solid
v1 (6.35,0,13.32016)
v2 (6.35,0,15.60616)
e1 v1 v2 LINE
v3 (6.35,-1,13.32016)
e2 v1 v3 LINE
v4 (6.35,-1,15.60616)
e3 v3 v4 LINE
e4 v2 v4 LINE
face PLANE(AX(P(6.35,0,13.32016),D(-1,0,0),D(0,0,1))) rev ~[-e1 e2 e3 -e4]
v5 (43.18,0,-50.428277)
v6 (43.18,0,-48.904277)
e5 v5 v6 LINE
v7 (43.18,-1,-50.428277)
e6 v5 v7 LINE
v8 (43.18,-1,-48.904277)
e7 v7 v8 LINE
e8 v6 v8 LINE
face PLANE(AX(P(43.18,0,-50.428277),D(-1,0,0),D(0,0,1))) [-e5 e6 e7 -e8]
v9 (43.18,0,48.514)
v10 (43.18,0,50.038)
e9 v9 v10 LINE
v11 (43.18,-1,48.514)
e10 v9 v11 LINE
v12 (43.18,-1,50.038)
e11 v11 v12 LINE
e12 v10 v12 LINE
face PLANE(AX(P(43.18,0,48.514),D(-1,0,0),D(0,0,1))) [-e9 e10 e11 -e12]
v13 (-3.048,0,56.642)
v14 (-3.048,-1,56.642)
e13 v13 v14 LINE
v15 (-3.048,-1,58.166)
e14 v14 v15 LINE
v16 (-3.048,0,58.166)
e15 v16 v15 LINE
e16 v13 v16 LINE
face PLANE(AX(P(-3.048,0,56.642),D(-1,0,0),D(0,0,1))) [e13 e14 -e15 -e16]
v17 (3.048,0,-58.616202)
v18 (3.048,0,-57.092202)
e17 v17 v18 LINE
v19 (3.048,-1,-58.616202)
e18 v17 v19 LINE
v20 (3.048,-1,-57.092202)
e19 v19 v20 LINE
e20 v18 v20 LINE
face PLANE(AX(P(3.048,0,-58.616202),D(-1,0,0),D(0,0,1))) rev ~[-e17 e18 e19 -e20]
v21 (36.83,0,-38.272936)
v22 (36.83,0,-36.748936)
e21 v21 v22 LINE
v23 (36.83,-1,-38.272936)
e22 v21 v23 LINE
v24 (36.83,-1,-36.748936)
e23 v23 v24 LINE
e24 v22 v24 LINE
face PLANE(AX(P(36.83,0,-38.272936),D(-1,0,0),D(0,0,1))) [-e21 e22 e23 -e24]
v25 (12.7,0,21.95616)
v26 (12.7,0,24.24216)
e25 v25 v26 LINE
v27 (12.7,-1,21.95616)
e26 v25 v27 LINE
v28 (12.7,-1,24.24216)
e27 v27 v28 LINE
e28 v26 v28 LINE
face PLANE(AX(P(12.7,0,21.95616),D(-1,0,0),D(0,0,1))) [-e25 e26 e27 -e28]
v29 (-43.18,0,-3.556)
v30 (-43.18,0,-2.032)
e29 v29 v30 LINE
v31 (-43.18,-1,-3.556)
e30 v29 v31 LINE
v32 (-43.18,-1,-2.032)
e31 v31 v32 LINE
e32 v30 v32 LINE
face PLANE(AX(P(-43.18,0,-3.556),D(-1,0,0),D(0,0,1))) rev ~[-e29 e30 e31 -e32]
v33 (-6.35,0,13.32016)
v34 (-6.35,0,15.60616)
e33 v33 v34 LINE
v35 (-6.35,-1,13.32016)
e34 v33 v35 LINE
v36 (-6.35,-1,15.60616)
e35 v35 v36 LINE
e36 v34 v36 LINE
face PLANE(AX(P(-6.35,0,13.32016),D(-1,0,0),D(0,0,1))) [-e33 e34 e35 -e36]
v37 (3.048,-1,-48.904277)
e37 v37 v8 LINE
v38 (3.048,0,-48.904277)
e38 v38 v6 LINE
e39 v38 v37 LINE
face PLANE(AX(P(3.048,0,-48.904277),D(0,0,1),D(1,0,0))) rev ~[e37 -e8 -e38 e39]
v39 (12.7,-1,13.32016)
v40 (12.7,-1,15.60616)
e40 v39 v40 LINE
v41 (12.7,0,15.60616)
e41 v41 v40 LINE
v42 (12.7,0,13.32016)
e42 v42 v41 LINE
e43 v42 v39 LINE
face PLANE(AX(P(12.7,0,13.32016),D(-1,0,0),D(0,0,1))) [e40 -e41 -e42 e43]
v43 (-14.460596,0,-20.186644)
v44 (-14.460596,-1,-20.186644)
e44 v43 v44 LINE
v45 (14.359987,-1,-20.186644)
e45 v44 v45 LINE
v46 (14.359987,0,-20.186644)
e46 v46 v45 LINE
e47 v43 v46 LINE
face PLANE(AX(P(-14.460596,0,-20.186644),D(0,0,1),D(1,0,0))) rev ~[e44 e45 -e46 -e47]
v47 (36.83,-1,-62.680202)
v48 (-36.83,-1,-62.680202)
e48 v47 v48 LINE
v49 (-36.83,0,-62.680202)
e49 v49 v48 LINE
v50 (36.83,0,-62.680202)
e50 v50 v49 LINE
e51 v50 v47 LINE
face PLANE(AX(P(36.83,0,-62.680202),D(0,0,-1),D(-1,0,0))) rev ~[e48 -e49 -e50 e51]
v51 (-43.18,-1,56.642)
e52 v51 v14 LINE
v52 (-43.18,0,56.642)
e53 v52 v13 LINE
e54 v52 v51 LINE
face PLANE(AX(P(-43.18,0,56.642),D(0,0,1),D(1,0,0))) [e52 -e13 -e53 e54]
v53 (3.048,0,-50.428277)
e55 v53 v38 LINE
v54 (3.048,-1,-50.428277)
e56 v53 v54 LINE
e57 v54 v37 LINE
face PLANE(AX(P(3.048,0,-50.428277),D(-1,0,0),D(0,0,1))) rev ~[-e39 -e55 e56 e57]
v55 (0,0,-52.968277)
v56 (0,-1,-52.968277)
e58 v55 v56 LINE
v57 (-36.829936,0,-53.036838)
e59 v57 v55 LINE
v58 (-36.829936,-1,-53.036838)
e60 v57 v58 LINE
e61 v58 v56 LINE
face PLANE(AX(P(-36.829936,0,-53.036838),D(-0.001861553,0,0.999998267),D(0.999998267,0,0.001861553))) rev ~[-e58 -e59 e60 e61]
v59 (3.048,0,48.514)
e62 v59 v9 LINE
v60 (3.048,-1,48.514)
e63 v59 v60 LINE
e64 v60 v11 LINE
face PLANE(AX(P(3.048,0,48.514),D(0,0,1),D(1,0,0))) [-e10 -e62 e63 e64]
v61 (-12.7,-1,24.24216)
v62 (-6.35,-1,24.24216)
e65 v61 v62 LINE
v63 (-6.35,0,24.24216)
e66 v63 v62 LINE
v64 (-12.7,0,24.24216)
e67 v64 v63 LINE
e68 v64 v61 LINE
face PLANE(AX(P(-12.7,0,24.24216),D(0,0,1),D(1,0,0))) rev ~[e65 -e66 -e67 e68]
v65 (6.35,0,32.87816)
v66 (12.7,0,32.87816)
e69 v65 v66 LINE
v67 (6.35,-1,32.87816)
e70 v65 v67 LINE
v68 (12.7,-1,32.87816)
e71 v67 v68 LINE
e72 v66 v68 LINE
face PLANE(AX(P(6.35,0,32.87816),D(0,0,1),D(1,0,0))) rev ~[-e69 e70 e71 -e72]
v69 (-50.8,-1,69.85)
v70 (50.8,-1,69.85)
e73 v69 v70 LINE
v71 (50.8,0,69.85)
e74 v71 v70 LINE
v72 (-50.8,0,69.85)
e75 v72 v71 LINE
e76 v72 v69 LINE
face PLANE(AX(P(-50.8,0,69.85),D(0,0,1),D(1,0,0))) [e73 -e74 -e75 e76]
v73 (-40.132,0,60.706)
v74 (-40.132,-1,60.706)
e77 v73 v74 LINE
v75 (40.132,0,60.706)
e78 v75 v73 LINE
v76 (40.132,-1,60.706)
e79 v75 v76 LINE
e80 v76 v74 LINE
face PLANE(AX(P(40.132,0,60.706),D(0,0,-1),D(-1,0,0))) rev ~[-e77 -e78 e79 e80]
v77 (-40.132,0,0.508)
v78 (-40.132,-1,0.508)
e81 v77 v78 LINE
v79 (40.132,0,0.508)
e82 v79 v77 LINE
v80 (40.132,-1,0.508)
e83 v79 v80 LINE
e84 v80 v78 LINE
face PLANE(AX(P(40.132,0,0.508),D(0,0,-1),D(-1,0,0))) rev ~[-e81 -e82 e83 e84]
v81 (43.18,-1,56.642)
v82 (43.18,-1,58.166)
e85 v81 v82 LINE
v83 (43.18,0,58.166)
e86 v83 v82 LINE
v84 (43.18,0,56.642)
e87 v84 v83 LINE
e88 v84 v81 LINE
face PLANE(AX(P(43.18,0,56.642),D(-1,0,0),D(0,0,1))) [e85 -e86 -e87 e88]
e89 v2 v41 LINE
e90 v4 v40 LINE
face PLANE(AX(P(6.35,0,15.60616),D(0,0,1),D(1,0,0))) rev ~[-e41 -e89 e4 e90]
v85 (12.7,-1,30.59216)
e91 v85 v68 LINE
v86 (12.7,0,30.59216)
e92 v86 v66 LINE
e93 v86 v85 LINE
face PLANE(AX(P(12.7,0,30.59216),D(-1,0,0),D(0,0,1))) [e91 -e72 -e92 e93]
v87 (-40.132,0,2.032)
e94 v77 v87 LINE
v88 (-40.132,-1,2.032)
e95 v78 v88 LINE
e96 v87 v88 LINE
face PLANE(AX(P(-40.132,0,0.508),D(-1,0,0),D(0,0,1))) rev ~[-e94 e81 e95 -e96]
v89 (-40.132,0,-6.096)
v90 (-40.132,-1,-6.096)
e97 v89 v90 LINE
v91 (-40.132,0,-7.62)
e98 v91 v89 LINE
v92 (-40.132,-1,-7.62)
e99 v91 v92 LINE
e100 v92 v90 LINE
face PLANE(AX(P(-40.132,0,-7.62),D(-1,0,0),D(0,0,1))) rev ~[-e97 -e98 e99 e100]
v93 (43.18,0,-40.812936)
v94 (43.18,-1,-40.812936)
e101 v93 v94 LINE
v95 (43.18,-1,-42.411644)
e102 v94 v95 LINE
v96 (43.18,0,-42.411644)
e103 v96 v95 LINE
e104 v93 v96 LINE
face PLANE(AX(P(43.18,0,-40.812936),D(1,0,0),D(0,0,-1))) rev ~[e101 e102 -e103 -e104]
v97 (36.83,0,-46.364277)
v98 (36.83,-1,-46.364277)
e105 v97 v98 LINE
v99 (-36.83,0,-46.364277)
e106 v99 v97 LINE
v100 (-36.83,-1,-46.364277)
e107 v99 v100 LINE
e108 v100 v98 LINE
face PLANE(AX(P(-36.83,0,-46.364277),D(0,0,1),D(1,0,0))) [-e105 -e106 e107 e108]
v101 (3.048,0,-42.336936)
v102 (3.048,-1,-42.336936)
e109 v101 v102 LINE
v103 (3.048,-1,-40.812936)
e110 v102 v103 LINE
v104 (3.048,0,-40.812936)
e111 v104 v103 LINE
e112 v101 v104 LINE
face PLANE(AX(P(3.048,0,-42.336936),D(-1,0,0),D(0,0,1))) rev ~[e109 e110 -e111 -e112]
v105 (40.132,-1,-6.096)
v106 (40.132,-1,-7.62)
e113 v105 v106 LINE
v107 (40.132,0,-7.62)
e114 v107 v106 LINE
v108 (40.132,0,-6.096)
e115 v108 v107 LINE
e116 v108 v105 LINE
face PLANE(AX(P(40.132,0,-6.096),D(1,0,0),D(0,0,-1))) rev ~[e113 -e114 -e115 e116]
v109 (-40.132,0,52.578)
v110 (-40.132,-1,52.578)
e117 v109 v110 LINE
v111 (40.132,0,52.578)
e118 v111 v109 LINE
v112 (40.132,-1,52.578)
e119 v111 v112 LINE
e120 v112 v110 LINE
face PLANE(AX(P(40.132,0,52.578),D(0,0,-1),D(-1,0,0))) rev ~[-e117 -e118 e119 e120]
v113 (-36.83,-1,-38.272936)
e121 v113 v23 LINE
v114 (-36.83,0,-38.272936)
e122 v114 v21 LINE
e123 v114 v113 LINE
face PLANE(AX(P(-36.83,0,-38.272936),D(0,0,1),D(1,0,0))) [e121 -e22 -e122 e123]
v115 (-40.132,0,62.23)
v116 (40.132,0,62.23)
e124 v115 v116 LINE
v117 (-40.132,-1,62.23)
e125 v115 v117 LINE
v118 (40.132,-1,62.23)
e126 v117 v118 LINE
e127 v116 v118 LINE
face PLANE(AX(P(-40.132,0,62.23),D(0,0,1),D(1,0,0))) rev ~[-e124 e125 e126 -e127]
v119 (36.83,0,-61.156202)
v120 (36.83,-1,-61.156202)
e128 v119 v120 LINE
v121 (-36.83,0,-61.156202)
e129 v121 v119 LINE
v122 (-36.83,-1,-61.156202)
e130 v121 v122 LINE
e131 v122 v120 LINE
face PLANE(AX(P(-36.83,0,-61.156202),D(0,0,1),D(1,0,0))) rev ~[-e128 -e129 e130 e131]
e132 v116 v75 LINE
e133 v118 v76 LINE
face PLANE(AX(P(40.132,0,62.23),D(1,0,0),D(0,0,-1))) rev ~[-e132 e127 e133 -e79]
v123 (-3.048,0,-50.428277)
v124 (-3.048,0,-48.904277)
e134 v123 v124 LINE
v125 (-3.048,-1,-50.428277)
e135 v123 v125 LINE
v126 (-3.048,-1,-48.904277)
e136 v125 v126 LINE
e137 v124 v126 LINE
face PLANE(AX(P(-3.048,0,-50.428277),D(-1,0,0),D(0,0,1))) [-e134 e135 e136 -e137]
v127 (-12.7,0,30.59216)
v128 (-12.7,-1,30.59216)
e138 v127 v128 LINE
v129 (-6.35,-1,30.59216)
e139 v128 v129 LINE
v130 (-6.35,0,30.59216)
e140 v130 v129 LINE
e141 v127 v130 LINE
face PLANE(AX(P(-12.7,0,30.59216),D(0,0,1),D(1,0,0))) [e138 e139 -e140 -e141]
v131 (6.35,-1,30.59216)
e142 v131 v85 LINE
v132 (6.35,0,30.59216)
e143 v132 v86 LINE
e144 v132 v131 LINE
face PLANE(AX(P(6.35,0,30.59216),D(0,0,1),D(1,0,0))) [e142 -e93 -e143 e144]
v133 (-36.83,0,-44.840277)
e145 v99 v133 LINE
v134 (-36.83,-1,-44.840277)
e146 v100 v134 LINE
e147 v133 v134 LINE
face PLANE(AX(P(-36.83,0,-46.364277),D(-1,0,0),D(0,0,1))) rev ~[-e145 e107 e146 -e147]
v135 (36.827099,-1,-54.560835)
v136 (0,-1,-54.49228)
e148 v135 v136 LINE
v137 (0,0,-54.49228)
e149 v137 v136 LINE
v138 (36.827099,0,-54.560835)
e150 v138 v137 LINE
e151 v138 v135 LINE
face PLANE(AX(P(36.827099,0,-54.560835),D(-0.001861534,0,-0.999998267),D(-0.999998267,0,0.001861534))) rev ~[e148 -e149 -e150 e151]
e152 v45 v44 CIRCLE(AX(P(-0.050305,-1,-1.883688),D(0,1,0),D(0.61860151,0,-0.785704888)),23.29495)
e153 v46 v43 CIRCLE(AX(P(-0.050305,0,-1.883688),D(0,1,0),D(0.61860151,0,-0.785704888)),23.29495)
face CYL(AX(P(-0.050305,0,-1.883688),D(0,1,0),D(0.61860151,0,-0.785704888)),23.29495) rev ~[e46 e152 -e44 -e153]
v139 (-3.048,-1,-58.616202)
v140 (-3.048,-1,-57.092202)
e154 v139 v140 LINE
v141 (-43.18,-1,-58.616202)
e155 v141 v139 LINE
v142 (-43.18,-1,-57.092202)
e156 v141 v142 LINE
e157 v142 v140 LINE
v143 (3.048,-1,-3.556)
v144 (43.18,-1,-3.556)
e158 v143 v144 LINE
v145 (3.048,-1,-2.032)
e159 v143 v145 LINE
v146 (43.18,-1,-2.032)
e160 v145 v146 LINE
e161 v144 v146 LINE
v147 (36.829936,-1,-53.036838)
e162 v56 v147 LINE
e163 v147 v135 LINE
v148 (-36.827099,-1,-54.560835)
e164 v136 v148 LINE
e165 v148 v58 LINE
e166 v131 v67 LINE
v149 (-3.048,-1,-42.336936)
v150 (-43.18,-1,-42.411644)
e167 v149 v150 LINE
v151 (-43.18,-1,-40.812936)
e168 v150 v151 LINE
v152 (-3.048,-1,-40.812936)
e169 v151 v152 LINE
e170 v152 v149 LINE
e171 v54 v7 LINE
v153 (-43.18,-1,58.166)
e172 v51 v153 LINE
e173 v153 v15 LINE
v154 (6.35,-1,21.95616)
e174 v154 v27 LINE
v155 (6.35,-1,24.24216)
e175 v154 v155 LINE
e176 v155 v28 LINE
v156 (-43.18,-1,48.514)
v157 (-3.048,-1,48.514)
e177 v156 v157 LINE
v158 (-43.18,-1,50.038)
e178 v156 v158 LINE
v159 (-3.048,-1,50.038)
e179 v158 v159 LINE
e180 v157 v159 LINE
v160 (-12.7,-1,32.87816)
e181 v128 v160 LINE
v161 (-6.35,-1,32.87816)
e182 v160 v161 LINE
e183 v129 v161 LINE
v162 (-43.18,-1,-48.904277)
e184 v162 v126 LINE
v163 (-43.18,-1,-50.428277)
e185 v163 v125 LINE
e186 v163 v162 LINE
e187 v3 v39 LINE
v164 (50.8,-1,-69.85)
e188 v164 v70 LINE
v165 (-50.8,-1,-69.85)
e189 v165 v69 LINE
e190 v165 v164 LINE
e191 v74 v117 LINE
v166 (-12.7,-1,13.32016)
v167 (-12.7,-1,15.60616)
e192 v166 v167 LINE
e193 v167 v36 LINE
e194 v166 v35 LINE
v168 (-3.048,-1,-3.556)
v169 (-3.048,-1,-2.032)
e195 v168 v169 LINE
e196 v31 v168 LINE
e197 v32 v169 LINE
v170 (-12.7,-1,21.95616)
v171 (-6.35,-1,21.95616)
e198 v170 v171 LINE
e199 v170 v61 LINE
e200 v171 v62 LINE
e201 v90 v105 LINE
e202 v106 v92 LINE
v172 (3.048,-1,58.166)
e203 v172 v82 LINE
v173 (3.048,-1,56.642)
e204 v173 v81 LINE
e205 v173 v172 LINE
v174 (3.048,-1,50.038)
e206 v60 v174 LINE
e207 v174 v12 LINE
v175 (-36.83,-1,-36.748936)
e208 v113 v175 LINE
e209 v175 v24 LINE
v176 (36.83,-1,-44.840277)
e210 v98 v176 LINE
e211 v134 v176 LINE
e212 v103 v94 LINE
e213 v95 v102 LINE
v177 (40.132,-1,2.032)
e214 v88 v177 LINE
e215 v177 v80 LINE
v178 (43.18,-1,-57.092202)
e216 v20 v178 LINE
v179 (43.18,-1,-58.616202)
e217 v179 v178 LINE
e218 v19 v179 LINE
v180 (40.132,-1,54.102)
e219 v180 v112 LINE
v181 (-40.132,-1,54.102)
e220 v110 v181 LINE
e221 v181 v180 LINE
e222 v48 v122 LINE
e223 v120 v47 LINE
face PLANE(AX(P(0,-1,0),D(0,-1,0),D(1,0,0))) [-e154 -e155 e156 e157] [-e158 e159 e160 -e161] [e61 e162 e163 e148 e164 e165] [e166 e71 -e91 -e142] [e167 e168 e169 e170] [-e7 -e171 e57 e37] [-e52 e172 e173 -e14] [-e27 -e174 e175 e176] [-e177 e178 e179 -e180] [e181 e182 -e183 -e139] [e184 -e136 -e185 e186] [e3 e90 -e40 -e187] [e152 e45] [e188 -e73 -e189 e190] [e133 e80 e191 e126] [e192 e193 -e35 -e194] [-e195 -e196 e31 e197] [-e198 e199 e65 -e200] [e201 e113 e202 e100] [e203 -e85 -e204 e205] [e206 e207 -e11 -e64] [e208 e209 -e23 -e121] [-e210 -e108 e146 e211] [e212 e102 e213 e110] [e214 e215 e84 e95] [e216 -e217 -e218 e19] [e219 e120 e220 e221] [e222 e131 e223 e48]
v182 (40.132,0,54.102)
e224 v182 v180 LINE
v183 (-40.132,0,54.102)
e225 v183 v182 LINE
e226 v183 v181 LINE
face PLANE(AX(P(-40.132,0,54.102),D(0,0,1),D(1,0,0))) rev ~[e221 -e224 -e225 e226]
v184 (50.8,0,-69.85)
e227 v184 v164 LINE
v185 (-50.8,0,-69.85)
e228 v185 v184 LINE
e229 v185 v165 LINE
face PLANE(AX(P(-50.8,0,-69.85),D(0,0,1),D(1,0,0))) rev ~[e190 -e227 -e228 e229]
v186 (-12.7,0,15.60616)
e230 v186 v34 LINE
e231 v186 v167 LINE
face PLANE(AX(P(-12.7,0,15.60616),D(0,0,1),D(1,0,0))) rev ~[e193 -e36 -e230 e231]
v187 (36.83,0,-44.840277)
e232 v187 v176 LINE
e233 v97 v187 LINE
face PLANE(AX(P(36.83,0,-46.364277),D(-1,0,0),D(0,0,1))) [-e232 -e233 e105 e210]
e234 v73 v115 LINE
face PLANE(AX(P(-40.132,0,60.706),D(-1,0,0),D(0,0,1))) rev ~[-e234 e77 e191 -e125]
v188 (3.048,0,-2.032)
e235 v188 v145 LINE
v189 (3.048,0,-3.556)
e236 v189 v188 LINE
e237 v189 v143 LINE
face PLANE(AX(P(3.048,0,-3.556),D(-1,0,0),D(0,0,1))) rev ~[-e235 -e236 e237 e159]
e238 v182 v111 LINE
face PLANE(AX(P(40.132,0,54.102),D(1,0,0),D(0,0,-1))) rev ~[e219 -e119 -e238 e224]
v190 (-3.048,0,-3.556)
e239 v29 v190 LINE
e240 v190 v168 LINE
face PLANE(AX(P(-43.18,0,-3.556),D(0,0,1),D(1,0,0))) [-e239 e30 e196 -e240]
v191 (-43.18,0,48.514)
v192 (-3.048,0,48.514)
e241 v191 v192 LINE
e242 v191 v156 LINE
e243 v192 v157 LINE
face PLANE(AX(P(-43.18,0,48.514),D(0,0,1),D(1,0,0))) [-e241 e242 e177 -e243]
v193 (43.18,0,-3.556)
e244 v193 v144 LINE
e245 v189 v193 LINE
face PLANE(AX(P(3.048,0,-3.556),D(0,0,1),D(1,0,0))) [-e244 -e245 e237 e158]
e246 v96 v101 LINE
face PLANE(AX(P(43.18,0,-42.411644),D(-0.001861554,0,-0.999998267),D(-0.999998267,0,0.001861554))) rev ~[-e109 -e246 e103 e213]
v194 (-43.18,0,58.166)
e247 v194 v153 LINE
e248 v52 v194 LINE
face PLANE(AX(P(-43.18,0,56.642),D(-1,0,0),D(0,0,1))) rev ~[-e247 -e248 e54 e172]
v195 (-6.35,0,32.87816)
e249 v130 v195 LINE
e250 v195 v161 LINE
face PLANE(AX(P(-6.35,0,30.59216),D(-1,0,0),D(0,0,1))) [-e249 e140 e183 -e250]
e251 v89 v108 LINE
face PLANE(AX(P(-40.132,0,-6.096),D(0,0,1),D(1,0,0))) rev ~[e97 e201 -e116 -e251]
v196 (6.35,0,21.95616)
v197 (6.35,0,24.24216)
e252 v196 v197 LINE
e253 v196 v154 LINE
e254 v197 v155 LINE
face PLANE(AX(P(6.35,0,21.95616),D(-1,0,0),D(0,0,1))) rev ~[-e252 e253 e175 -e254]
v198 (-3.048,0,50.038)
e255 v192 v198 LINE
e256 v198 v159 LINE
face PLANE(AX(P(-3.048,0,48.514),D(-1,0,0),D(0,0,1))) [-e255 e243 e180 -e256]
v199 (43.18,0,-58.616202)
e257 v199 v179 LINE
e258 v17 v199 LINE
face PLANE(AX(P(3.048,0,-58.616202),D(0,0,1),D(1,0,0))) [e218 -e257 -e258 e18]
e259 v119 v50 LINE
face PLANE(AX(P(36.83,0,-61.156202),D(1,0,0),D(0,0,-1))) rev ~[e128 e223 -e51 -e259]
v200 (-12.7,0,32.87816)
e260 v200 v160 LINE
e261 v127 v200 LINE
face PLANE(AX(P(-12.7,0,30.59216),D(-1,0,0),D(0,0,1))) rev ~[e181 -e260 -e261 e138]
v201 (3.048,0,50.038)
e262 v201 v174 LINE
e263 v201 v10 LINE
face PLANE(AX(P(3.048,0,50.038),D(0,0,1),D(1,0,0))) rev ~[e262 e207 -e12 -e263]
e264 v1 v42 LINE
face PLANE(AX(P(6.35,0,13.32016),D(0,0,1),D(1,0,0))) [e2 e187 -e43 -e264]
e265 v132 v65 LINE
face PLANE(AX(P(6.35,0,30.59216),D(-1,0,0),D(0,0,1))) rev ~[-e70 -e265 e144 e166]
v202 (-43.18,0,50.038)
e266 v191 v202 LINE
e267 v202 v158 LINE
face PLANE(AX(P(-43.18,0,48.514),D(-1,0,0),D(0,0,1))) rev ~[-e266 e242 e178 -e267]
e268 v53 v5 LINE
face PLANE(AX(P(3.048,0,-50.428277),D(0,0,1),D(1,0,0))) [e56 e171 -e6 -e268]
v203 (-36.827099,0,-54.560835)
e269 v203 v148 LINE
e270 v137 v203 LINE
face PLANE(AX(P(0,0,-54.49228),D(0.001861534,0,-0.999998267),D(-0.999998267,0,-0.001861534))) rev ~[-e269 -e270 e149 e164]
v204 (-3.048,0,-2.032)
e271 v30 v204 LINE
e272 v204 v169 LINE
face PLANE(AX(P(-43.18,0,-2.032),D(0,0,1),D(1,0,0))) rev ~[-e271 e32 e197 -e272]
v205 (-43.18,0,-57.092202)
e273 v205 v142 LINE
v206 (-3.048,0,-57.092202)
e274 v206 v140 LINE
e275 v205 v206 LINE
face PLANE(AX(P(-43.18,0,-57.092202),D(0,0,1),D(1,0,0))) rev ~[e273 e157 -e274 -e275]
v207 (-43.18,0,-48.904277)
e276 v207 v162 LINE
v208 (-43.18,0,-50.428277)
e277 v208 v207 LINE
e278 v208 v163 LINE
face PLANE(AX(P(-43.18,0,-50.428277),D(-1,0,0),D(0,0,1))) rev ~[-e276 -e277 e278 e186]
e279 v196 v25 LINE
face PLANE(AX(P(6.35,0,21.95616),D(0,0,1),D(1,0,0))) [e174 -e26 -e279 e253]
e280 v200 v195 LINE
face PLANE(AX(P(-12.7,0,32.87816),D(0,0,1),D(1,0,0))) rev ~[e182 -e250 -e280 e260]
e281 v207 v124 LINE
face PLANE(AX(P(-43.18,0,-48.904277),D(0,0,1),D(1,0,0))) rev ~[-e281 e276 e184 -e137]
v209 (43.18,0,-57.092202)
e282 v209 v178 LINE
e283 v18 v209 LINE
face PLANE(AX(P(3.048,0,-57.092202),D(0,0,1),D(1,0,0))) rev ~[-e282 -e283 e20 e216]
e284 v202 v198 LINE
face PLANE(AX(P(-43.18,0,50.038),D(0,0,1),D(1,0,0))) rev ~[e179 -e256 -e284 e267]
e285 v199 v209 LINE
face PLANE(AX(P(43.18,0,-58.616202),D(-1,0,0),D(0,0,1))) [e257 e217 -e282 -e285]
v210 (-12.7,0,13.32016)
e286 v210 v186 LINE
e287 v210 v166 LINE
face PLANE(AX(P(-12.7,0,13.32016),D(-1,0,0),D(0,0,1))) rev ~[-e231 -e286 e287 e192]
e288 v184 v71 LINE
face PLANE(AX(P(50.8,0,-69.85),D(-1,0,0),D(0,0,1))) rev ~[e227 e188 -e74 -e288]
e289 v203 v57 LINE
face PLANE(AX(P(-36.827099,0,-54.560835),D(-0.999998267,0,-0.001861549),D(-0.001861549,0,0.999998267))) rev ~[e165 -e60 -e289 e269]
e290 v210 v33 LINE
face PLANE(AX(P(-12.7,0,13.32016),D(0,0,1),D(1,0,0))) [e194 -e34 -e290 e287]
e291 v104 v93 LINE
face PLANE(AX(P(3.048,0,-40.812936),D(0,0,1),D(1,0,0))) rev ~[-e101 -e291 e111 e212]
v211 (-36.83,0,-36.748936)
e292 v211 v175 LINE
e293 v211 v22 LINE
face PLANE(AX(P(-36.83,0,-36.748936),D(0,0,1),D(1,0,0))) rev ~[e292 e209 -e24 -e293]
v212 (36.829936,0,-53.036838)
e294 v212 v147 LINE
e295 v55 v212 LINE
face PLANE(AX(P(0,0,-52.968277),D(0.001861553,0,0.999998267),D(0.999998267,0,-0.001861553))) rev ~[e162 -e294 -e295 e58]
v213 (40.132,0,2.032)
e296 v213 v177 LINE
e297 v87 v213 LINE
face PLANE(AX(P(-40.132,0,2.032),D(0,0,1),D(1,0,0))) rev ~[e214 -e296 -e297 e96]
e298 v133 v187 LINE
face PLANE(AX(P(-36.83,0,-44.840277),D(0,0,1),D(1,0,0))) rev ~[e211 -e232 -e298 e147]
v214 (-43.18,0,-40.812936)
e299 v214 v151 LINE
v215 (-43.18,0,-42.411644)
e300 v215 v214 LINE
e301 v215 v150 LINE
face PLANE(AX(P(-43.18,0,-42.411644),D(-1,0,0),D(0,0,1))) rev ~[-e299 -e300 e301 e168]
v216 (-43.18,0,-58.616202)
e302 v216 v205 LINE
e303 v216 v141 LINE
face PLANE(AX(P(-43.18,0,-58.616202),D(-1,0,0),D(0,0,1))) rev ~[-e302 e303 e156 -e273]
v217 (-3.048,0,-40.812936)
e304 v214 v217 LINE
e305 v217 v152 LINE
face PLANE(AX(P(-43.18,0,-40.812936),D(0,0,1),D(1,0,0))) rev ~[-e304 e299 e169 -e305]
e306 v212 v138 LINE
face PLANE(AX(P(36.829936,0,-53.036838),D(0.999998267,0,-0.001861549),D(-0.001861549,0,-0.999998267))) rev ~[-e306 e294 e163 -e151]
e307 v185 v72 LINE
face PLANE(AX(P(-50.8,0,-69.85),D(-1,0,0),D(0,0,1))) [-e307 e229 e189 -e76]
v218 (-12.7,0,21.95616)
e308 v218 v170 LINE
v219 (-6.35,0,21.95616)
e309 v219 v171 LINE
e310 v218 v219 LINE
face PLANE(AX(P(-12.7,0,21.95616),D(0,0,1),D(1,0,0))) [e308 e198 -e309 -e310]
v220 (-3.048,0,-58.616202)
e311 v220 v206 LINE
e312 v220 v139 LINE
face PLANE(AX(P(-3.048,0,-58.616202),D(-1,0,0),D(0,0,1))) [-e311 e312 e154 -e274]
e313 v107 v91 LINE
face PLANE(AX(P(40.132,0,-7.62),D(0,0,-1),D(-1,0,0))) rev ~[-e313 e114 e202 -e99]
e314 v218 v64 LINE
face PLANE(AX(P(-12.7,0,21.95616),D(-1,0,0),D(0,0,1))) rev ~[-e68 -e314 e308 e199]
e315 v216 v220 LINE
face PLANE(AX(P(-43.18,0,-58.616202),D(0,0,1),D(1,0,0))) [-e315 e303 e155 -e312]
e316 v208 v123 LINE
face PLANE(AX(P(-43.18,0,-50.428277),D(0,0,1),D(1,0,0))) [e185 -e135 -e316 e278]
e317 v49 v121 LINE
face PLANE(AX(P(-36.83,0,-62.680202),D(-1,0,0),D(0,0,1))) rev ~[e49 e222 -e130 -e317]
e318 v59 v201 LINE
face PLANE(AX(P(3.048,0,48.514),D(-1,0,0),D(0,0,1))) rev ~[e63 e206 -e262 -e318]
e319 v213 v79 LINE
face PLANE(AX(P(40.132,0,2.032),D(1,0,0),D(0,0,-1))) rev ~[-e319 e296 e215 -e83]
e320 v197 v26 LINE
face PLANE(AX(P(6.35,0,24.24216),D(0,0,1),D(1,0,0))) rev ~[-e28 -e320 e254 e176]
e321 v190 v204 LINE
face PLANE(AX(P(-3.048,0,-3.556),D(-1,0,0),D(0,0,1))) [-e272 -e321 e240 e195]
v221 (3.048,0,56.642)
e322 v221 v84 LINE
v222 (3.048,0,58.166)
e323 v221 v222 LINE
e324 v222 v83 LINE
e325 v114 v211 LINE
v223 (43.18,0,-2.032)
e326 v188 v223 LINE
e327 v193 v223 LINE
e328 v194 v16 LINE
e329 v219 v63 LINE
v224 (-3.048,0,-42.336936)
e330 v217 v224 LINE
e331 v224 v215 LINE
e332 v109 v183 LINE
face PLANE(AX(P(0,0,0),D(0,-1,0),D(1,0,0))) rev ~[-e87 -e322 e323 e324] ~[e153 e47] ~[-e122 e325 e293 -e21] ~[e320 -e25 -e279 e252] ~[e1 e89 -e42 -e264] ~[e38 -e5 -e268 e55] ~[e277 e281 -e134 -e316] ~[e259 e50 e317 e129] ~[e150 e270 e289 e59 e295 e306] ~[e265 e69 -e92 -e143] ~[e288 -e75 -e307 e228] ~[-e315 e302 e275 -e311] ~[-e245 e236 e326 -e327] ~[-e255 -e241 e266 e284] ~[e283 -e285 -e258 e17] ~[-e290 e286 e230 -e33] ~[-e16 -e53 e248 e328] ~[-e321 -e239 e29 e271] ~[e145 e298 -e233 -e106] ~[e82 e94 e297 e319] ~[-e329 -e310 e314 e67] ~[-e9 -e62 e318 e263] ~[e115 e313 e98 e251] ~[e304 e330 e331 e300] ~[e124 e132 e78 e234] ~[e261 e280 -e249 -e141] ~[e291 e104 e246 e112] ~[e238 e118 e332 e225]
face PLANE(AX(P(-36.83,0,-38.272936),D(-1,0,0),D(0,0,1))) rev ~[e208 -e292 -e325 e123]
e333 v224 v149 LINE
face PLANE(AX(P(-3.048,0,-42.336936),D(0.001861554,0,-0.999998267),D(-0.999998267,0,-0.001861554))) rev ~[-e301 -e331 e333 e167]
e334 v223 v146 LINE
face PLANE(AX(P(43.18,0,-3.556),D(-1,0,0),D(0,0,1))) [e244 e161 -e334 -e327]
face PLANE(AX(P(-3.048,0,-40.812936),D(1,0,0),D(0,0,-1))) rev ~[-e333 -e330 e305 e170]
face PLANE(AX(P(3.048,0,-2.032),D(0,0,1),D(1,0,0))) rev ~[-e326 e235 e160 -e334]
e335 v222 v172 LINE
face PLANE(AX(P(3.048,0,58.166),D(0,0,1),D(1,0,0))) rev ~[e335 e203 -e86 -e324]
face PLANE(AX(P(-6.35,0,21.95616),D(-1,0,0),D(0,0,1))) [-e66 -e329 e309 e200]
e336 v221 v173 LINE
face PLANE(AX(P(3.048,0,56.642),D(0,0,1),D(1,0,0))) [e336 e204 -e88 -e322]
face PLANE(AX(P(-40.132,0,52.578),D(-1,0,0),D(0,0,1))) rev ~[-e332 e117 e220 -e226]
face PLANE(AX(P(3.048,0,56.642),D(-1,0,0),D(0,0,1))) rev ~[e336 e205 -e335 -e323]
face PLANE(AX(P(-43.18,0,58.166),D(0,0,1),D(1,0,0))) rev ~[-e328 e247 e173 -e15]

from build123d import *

# Parameters (mm, degrees)
F0_W     = 101.6
F0_H     = 139.7
F0_W_2   = 40.132
F0_H_2   = 1.524
F0_W_3   = 73.66
F0_W_4   = 6.35
F0_H_3   = 2.286
F1_DEPTH = 1


with BuildPart() as f1:
    # F0 (on Front) → F1 (new body)
    with BuildSketch(Plane.XZ):
        Rectangle(F0_W, F0_H)
        with Locations((-23.114, -57.854202)):
            Rectangle(F0_W_2, F0_H_2, mode=Mode.SUBTRACT)
        Polygon((-36.83, -61.156202), (0, -61.156202), (36.83, -61.156202), (36.83, -62.680202), (0, -62.680202), (-36.83, -62.680202), align=None, mode=Mode.SUBTRACT)
        Polygon((-36.829936, -53.036838), (0, -52.968277), (36.829936, -53.036838), (36.827099, -54.560835), (0, -54.49228), (-36.827099, -54.560835), align=None, mode=Mode.SUBTRACT)
        with Locations((-23.114, -49.666277)):
            Rectangle(F0_W_2, F0_H_2, mode=Mode.SUBTRACT)
        Polygon((-43.18, -42.336936), (-43.18, -40.812936), (-3.048, -40.812936), (-3.048, -42.336936), (-43.18, -42.411644), align=None, mode=Mode.SUBTRACT)
        with Locations((0, -45.602277)):
            Rectangle(F0_W_3, F0_H_2, mode=Mode.SUBTRACT)
        with Locations((0, -37.510936)):
            Rectangle(F0_W_3, F0_H_2, mode=Mode.SUBTRACT)
        with BuildLine():
            ThreePointArc((14.359987, -20.186644), (-0.050304, -25.178638), (-14.460596, -20.186644))
            Line((-14.460596, -20.186644), (14.359987, -20.186644))
        make_face(mode=Mode.SUBTRACT)
        with Locations((-23.114, -2.794)):
            Rectangle(F0_W_2, F0_H_2, mode=Mode.SUBTRACT)
        Polygon((40.132, -7.62), (0, -7.62), (-40.132, -7.62), (-40.132, -6.096), (0, -6.096), (40.132, -6.096), align=None, mode=Mode.SUBTRACT)
        with Locations((23.114, -57.854202)):
            Rectangle(F0_W_2, F0_H_2, mode=Mode.SUBTRACT)
        with Locations((23.114, -49.666277)):
            Rectangle(F0_W_2, F0_H_2, mode=Mode.SUBTRACT)
        Polygon((3.048, -40.812936), (43.18, -40.812936), (43.18, -42.411644), (3.048, -42.336936), align=None, mode=Mode.SUBTRACT)
        with Locations((23.114, -2.794)):
            Rectangle(F0_W_2, F0_H_2, mode=Mode.SUBTRACT)
        Polygon((40.132, 0.508), (0, 0.508), (-40.132, 0.508), (-40.132, 2.032), (0, 2.032), (40.132, 2.032), align=None, mode=Mode.SUBTRACT)
        with Locations((-9.525, 14.46316)):
            Rectangle(F0_W_4, F0_H_3, mode=Mode.SUBTRACT)
        with Locations((-9.525, 23.09916)):
            Rectangle(F0_W_4, F0_H_3, mode=Mode.SUBTRACT)
        with Locations((-9.525, 31.73516)):
            Rectangle(F0_W_4, F0_H_3, mode=Mode.SUBTRACT)
        with Locations((-23.114, 49.276)):
            Rectangle(F0_W_2, F0_H_2, mode=Mode.SUBTRACT)
        with Locations((-23.114, 57.404)):
            Rectangle(F0_W_2, F0_H_2, mode=Mode.SUBTRACT)
        Polygon((-40.132, 54.102), (0, 54.102), (40.132, 54.102), (40.132, 52.578), (0, 52.578), (-40.132, 52.578), align=None, mode=Mode.SUBTRACT)
        Polygon((-40.132, 62.23), (0, 62.23), (40.132, 62.23), (40.132, 60.706), (0, 60.706), (-40.132, 60.706), align=None, mode=Mode.SUBTRACT)
        with Locations((9.525, 14.46316)):
            Rectangle(F0_W_4, F0_H_3, mode=Mode.SUBTRACT)
        with Locations((9.525, 23.09916)):
            Rectangle(F0_W_4, F0_H_3, mode=Mode.SUBTRACT)
        with Locations((9.525, 31.73516)):
            Rectangle(F0_W_4, F0_H_3, mode=Mode.SUBTRACT)
        with Locations((23.114, 49.276)):
            Rectangle(F0_W_2, F0_H_2, mode=Mode.SUBTRACT)
        with Locations((23.114, 57.404)):
            Rectangle(F0_W_2, F0_H_2, mode=Mode.SUBTRACT)
    extrude(amount=F1_DEPTH)


solid = f1.part
